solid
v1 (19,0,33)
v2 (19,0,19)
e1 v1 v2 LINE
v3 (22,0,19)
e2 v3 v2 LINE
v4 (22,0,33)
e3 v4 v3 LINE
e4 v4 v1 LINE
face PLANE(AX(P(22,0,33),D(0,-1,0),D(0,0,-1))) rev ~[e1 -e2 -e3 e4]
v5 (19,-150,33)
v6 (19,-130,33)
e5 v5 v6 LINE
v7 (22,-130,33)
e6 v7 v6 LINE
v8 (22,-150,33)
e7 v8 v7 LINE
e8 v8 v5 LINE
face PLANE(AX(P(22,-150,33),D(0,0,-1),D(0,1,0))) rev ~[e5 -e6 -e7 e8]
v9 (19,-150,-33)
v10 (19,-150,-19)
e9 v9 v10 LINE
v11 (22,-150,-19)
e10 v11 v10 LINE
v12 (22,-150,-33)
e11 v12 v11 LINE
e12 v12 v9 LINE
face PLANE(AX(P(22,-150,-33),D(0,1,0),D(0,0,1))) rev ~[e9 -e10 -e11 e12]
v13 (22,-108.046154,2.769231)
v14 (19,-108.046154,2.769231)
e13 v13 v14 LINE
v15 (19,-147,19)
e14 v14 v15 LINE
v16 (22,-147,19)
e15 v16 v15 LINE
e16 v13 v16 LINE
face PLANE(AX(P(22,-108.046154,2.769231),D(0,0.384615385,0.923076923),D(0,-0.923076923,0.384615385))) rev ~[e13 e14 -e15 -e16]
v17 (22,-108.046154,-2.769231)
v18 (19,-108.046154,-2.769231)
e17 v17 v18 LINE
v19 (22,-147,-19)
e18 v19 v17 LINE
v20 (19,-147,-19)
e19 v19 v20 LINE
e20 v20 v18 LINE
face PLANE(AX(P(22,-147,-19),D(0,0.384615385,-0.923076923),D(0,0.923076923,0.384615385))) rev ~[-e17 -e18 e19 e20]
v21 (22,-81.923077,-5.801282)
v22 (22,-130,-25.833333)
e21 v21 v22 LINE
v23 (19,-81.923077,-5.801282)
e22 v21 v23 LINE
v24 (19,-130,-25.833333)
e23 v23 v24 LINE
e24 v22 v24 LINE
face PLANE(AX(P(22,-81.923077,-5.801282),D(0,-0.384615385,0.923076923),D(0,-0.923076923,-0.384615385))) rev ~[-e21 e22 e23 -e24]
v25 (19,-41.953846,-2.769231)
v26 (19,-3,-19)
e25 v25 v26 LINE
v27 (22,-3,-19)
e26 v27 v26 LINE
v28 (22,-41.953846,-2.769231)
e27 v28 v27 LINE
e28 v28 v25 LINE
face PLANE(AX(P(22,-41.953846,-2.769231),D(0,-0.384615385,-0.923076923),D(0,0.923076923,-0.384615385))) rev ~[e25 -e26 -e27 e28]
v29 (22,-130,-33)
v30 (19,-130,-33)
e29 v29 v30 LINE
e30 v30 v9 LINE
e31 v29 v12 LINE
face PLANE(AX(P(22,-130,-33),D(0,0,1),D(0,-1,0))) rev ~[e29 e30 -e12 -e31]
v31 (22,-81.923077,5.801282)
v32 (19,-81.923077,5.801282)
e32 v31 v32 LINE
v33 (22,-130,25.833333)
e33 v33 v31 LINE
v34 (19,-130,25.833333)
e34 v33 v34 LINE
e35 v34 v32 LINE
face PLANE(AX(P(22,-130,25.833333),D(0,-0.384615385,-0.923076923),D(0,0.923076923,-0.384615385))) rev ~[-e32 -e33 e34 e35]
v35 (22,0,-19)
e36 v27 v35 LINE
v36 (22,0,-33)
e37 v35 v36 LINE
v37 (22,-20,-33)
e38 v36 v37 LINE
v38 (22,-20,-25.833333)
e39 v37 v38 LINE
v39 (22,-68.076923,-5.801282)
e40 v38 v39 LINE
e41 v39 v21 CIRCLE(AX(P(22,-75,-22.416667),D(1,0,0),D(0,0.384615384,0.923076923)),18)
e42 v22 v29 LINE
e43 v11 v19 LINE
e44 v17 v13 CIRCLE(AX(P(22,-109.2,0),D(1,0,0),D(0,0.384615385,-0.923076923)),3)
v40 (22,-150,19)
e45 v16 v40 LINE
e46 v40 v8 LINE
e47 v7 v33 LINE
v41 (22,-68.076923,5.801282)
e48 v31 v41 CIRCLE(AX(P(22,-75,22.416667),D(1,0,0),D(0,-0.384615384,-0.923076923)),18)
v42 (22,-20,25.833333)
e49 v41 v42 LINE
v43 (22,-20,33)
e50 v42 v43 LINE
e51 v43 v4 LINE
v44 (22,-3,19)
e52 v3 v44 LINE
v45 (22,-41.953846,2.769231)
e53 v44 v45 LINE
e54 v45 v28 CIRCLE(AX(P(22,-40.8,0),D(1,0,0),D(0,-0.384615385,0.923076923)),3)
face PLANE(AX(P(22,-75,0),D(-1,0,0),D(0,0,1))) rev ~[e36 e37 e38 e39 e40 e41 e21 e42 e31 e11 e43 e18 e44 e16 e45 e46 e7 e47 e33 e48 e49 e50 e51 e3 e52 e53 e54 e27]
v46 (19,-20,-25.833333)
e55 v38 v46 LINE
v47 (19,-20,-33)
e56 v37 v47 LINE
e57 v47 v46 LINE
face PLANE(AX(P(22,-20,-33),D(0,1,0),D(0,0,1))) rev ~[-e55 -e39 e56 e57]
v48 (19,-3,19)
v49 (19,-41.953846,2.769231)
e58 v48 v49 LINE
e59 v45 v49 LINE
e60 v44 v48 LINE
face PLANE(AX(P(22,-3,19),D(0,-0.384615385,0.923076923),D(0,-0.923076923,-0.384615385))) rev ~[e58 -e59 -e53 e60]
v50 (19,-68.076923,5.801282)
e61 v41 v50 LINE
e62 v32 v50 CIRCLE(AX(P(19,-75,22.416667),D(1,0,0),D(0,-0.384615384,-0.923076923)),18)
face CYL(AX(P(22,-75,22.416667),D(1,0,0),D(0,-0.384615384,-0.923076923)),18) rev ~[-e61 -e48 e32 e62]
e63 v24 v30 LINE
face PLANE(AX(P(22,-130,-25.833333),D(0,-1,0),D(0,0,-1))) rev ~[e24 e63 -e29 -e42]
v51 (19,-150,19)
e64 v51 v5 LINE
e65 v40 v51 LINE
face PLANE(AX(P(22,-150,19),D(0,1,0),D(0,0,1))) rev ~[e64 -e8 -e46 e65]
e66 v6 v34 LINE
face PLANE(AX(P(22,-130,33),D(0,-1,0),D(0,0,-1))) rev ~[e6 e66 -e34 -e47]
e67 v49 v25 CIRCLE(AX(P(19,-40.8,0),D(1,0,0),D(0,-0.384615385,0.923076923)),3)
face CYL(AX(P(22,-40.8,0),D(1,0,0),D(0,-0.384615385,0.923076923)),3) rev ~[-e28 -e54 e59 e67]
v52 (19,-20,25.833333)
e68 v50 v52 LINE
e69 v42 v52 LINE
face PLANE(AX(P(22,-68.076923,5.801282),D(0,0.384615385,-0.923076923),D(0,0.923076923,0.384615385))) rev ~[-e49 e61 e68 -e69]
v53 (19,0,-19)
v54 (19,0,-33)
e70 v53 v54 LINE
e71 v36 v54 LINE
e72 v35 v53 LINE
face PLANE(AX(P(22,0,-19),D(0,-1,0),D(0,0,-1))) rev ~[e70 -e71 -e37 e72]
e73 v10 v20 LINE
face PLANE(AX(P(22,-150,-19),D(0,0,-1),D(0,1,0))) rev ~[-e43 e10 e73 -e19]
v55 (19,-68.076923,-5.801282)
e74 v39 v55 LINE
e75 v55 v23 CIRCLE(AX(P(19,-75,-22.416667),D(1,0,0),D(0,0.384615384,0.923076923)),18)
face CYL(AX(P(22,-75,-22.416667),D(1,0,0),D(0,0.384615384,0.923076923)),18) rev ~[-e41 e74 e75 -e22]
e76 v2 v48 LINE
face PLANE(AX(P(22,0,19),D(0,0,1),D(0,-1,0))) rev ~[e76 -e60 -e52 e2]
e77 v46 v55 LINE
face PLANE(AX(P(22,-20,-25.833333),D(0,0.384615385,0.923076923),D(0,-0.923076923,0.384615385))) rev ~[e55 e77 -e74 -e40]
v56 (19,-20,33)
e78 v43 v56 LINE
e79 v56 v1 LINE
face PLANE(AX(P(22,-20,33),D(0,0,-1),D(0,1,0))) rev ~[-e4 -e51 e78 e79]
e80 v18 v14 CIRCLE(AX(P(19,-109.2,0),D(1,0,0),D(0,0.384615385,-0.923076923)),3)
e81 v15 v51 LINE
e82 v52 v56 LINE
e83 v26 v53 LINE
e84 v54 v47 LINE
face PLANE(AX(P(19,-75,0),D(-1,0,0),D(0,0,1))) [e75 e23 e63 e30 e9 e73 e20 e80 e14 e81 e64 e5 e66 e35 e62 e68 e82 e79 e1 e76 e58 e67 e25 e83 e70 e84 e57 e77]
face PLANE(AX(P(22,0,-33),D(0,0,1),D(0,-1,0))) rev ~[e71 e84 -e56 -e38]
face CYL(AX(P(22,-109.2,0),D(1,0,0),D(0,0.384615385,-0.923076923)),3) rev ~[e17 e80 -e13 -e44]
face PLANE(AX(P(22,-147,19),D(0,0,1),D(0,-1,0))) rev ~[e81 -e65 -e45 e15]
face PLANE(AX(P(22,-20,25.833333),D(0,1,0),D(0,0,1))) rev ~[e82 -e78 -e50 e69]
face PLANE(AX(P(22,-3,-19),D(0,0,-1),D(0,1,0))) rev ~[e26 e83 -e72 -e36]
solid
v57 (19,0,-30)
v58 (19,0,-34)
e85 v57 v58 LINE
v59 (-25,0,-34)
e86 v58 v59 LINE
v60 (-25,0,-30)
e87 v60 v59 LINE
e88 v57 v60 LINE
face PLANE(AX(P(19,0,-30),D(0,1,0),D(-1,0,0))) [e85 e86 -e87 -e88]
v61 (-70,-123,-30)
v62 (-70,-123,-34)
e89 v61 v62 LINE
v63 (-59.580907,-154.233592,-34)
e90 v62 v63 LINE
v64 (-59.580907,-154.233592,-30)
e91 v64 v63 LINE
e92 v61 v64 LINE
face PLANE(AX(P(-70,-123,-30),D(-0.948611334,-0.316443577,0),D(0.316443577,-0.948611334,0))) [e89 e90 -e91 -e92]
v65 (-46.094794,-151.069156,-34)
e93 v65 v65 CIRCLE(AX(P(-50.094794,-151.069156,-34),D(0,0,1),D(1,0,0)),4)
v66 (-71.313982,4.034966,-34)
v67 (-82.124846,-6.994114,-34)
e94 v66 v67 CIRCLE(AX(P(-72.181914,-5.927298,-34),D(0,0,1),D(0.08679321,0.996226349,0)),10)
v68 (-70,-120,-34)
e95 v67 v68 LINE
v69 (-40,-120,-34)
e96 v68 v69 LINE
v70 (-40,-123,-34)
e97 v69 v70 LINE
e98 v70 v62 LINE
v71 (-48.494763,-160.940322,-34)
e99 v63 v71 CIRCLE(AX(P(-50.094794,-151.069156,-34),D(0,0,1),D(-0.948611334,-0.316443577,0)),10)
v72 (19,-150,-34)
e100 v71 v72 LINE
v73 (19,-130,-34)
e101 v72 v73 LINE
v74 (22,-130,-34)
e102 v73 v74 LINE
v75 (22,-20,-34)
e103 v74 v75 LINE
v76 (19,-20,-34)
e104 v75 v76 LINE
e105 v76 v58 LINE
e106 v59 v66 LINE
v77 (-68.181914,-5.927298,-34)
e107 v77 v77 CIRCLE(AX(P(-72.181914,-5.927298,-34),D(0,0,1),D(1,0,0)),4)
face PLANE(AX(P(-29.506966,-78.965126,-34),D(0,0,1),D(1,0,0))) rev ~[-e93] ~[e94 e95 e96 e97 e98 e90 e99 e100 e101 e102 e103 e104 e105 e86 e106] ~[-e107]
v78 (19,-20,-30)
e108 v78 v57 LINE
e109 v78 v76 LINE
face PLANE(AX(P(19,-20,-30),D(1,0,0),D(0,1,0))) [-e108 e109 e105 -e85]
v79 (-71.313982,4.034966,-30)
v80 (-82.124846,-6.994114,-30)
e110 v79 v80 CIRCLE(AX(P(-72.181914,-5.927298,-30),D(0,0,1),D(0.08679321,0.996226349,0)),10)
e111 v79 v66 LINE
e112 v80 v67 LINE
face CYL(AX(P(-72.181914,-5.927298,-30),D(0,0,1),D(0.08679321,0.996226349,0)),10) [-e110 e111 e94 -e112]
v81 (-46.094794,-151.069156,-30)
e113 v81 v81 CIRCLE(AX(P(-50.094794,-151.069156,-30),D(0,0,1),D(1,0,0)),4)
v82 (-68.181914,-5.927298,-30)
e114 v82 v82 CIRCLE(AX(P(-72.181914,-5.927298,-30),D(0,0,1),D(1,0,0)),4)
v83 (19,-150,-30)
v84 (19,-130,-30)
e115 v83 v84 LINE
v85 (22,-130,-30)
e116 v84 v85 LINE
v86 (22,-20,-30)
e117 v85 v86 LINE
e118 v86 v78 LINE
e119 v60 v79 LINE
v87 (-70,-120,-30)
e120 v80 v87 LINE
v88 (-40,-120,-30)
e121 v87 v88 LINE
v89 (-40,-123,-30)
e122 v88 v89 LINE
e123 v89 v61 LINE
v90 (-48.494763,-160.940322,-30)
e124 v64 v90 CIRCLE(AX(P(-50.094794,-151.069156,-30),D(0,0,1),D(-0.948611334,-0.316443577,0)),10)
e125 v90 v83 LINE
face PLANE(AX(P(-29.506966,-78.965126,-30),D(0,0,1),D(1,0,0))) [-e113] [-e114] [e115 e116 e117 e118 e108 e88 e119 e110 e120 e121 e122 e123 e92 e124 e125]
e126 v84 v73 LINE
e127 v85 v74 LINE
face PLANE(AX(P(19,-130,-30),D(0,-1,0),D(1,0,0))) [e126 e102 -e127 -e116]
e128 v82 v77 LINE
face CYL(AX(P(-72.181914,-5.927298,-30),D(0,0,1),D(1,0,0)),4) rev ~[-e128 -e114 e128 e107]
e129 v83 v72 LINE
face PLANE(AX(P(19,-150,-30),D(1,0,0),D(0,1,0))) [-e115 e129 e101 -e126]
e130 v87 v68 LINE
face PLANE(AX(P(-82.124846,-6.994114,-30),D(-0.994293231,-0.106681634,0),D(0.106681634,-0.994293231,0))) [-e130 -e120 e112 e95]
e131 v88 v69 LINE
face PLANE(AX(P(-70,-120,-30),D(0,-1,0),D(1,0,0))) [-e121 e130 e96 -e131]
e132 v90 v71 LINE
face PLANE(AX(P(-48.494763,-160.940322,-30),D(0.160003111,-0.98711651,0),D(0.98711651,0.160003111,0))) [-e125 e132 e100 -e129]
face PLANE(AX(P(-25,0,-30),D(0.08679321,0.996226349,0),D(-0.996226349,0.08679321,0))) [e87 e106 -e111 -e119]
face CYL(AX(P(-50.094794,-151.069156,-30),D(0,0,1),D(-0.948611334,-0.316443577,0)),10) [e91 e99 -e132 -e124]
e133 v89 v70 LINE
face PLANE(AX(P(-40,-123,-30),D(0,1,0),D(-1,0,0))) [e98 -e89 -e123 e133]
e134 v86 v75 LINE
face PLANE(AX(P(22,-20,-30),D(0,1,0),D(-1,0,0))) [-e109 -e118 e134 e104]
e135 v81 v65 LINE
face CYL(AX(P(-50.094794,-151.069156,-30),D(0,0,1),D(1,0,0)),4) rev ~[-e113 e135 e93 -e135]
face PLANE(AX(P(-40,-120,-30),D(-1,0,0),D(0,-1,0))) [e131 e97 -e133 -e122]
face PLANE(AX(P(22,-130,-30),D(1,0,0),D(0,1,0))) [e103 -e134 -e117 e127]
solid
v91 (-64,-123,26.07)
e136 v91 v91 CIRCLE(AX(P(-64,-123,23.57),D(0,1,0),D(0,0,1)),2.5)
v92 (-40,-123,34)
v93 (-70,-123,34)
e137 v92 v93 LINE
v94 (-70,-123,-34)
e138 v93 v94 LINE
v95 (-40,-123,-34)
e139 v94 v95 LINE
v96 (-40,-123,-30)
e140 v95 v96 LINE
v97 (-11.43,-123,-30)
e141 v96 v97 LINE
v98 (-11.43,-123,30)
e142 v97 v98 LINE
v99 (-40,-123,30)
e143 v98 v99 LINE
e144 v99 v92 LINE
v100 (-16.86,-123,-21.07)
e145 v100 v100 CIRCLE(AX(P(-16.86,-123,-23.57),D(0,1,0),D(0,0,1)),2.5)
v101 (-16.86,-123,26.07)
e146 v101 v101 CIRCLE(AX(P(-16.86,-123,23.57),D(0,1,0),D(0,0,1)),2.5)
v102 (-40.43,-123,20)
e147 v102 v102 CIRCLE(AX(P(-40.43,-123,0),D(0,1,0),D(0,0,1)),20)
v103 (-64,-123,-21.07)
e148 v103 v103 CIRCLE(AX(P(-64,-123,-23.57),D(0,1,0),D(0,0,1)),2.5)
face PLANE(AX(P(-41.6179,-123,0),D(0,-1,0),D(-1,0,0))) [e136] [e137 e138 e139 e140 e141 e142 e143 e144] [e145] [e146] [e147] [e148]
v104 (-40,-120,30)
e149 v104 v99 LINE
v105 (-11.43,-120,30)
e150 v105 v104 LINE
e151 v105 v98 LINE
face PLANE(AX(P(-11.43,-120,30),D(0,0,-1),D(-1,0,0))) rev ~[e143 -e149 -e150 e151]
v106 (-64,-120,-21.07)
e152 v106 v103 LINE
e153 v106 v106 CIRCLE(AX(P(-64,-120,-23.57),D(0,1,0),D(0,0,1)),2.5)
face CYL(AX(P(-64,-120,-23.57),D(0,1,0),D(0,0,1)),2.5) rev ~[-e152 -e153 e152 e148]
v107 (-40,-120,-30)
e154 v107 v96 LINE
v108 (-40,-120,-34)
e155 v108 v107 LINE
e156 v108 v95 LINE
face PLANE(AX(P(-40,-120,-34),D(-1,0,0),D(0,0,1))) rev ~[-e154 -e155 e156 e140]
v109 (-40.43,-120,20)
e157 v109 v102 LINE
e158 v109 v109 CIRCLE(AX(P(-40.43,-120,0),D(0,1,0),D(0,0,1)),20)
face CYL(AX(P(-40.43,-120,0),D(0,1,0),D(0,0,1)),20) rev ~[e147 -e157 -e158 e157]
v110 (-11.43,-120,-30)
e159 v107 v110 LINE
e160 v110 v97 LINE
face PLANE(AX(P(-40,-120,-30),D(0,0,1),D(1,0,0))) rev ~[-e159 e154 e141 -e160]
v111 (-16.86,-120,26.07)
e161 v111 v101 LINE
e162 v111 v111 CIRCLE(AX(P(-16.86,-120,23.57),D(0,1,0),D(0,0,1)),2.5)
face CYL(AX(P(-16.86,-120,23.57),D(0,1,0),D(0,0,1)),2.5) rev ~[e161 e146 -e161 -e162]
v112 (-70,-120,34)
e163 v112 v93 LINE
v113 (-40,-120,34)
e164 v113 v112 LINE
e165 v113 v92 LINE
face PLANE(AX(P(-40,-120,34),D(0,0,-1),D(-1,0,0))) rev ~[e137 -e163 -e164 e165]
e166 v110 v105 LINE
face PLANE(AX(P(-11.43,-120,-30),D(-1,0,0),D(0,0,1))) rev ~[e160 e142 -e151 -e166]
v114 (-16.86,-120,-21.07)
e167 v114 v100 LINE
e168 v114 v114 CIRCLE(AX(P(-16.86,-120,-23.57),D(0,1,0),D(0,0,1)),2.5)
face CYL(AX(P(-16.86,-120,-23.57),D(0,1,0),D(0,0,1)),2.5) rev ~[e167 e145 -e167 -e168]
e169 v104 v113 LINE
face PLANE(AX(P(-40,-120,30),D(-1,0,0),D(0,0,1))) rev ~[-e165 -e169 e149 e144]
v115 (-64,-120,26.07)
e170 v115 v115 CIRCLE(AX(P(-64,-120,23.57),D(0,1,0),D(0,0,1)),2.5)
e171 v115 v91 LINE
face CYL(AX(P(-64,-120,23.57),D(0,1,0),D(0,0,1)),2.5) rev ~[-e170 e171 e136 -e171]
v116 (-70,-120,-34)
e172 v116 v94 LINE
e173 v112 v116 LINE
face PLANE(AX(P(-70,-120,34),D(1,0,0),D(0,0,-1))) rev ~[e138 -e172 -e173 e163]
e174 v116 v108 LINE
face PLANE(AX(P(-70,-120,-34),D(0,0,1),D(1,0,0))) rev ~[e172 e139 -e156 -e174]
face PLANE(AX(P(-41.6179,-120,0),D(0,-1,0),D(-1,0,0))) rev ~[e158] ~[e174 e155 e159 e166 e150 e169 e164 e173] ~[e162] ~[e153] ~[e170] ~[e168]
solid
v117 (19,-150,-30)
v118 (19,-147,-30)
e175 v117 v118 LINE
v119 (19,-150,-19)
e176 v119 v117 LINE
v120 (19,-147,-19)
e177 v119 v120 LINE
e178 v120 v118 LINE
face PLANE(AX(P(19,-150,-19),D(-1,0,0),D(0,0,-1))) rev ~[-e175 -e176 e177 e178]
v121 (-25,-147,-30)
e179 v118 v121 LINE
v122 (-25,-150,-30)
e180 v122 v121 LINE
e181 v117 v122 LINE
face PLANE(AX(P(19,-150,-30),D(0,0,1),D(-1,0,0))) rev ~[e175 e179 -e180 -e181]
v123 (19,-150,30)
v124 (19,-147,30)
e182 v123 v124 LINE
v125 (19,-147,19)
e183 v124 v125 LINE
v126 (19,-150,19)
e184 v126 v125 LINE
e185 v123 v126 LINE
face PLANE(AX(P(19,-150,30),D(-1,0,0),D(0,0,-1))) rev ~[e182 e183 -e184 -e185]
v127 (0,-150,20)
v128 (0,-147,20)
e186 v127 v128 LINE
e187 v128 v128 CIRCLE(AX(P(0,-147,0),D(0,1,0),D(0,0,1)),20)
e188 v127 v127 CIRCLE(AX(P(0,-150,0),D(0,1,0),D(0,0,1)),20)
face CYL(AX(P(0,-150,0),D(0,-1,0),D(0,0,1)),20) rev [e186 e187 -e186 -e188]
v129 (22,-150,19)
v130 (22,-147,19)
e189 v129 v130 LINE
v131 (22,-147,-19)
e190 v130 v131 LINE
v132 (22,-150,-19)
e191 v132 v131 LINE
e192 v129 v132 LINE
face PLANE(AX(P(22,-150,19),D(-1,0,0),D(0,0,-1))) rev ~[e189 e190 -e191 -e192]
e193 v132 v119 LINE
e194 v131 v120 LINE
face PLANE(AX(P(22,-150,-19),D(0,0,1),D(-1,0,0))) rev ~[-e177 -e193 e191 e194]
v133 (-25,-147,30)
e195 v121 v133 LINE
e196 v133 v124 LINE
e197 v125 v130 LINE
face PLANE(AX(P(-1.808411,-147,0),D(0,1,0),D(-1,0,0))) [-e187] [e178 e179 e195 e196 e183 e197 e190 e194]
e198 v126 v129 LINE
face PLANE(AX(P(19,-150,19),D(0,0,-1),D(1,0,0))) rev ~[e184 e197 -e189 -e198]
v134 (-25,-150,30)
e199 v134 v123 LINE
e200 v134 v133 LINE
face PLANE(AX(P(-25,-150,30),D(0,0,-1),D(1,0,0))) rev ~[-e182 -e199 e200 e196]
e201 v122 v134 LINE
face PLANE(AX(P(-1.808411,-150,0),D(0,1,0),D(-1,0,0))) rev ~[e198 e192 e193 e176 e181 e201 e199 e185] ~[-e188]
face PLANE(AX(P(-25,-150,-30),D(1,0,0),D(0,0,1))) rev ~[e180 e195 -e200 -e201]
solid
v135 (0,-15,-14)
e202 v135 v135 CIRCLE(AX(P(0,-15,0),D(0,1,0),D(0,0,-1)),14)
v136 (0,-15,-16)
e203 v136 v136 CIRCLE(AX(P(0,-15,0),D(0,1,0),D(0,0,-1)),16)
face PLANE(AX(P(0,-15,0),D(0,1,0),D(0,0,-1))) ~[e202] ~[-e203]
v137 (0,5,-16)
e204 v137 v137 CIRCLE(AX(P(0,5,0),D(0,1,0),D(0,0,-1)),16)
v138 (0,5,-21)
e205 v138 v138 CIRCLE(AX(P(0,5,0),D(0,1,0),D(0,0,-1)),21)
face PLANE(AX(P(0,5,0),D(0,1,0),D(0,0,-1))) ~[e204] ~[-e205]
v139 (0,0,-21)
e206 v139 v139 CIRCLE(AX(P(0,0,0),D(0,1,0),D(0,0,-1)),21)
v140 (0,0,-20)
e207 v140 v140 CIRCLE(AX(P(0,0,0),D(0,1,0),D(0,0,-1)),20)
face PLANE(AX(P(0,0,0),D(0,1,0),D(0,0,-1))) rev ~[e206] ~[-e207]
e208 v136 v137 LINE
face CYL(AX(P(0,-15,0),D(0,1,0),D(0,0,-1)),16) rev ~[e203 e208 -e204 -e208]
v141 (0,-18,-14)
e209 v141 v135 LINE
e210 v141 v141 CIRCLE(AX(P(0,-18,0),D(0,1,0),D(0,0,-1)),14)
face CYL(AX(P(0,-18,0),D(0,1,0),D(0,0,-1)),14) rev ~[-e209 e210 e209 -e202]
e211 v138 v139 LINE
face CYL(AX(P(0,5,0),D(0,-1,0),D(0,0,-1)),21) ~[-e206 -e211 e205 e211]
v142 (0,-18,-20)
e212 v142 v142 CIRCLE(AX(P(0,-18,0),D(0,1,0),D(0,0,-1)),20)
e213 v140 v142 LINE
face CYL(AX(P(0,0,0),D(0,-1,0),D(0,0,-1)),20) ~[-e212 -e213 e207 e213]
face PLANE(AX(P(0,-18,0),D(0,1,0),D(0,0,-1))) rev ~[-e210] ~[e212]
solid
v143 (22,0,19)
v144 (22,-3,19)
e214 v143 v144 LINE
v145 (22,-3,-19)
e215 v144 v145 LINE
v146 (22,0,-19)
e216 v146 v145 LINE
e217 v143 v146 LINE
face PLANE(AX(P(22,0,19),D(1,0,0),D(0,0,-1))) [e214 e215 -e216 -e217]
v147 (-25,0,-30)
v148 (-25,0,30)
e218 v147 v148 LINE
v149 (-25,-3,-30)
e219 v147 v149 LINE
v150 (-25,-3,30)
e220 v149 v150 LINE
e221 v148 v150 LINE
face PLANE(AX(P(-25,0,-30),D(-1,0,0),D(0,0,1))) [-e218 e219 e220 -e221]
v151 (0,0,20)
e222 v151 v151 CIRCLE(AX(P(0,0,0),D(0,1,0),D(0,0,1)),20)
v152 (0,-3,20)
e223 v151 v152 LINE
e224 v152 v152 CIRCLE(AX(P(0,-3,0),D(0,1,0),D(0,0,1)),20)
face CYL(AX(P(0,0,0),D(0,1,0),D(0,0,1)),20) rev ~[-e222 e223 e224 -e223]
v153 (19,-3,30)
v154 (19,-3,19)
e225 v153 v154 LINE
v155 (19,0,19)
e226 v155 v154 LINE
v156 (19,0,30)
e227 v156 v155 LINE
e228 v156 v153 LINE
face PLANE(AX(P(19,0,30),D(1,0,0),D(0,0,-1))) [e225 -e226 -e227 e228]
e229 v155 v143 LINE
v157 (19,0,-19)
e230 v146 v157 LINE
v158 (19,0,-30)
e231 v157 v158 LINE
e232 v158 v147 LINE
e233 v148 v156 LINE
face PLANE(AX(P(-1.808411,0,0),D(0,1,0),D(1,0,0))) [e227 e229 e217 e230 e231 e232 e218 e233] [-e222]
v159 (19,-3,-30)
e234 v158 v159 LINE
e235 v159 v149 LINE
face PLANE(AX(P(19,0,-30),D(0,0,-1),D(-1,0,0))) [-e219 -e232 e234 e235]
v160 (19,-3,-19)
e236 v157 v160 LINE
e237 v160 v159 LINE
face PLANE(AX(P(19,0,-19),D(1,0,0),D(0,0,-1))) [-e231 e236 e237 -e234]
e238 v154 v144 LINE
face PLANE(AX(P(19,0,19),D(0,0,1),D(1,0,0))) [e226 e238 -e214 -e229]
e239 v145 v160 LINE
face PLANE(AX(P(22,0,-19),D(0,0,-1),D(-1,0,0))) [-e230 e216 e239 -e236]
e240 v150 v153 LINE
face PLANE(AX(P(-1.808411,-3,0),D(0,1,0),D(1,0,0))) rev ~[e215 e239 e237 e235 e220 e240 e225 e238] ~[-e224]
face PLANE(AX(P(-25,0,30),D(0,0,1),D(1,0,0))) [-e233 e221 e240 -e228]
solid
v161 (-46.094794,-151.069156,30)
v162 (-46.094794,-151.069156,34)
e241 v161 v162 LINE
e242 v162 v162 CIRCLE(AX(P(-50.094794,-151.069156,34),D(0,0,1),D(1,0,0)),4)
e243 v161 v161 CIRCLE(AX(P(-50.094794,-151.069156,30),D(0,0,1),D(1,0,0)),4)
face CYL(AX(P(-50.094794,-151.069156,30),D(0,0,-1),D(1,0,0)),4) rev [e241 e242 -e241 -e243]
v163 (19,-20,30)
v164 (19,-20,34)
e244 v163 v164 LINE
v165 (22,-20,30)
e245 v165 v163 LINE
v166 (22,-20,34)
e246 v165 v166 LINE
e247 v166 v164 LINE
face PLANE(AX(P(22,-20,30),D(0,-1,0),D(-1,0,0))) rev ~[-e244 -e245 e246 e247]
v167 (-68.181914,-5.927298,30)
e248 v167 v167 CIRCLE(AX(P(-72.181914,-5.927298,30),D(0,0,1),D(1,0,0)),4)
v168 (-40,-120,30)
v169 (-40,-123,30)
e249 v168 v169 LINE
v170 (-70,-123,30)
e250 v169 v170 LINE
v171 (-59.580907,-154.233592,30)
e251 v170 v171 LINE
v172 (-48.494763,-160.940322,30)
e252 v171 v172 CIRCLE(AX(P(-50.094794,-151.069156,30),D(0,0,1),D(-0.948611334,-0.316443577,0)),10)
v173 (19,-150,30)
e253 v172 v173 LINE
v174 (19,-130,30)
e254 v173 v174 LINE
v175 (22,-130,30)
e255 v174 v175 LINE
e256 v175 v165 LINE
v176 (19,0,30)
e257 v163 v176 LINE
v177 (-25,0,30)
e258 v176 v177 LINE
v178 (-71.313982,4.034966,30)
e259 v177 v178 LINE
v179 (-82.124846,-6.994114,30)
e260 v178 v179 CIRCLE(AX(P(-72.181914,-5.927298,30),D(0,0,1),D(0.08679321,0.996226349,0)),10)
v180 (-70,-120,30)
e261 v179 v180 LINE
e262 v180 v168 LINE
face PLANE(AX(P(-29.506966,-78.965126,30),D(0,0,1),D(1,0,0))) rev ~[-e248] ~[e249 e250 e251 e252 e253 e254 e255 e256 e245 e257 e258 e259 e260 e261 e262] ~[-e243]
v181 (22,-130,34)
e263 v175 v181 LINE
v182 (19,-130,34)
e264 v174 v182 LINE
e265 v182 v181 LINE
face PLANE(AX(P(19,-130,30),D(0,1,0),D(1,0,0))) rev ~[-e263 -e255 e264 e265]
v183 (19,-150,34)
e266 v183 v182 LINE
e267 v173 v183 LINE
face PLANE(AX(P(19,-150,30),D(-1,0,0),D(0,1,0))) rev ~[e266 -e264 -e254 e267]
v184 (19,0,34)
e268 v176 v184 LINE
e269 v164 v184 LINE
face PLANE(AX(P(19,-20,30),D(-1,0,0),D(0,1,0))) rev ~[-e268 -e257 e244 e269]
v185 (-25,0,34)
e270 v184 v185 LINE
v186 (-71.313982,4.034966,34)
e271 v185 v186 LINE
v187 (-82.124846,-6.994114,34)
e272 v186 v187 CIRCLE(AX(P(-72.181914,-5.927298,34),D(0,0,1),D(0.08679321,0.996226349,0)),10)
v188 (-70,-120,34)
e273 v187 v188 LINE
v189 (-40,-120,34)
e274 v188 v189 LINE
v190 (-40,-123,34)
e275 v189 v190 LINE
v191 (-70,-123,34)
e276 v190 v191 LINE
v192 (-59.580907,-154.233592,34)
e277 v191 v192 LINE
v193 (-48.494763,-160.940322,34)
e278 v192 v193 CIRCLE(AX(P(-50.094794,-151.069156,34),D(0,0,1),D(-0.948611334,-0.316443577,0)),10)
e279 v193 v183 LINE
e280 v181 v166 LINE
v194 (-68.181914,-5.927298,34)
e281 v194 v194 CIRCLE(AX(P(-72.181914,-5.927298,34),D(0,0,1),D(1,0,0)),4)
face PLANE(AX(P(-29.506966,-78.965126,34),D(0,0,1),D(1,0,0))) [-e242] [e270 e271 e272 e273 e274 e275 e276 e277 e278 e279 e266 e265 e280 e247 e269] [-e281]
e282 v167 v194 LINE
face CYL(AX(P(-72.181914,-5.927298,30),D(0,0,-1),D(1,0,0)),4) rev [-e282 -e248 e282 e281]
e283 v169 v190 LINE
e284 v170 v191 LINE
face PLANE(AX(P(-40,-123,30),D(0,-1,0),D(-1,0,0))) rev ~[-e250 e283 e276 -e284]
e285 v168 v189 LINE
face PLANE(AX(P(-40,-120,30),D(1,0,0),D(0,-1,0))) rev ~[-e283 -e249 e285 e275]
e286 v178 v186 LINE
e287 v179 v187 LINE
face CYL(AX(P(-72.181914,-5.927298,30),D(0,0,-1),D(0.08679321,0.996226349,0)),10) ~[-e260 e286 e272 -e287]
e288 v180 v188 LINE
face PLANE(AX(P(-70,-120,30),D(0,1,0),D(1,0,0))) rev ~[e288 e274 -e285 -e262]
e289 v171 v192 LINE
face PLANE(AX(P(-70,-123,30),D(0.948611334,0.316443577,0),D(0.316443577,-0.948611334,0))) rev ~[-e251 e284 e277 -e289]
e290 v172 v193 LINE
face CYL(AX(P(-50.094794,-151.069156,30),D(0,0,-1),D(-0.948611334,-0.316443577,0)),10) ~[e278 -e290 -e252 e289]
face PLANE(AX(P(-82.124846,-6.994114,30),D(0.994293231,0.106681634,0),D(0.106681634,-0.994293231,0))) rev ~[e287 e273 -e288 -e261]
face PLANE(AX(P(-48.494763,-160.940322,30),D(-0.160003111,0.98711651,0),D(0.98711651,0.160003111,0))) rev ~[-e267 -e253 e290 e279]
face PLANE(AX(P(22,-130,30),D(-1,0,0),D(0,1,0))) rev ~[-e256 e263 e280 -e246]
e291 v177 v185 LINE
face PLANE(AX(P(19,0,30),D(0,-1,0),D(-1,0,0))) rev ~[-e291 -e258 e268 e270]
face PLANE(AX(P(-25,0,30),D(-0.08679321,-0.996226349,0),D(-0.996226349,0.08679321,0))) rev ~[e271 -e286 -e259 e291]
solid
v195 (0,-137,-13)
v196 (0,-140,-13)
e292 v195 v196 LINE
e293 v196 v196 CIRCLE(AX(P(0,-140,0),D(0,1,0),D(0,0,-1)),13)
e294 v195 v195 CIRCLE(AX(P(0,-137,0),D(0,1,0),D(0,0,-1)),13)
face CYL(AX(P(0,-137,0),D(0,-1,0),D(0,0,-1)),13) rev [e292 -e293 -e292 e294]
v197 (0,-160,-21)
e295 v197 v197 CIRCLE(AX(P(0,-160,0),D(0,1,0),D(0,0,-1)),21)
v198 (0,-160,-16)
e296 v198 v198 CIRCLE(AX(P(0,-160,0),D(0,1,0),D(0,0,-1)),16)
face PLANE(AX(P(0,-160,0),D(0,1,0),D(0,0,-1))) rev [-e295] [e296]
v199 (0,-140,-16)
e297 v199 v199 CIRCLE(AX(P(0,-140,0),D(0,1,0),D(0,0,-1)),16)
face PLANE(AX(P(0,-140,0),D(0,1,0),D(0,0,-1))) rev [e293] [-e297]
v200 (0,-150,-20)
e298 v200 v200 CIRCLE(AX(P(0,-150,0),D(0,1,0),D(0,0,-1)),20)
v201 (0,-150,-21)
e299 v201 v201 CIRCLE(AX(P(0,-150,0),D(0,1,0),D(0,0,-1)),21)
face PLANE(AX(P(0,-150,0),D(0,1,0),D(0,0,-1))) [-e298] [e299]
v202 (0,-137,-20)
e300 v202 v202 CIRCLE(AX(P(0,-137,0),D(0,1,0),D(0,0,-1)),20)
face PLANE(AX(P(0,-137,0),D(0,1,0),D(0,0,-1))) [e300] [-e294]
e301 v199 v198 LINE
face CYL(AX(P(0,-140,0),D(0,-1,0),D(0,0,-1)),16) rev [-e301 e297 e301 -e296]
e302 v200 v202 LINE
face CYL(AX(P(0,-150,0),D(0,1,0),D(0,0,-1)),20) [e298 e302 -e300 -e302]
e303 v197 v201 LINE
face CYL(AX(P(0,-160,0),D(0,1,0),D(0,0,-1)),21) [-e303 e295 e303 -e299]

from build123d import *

# Parameters (mm, degrees)
SKETCH5_R            = 20
BOSS_EXTRUDE1_DEPTH  = 3
SKETCH14_R           = 4
BOSS_EXTRUDE7_DEPTH  = 4
BOSS_EXTRUDE11_START = -60
SKETCH14_3_R         = 4
BOSS_EXTRUDE11_DEPTH = 4
SKETCH15_R           = 2.5
SKETCH15_R_2         = 20
BOSS_EXTRUDE12_DEPTH = 3
SKETCH7_R            = 20
BOSS_EXTRUDE3_DEPTH  = 3
BOSS_EXTRUDE6_DEPTH  = 3


with BuildPart() as part:
    # Sketch5 → Boss-Extrude1 (new body)
    with BuildSketch(Plane(origin=(0, 0, 0), x_dir=(1, 0, 0), z_dir=(0, 1, 0))):
        Polygon((-25, -30), (19, -30), (19, -19), (22, -19), (22, 19), (19, 19), (19, 30), (-25, 30), align=None)
        with Locations(Location((0, 0, 0), (0, 0, 270))):
            Circle(SKETCH5_R, mode=Mode.SUBTRACT)
    extrude(amount=-BOSS_EXTRUDE1_DEPTH)


with BuildPart() as body_2:
    # Sketch14 → Boss-Extrude7 (new body)
    with BuildSketch(Plane.XY.offset(30)):
        with BuildLine():
            Line((19, 0), (-25, 0))
            Line((-25, 0), (-71.313981868, 4.034965698))
            ThreePointArc((-71.313981868, 4.034965698), (-79.32327642, 1.072769513), (-82.124846275, -6.994114135))
            Line((-82.124846275, -6.994114135), (-70, -120))
            Line((-70, -120), (-40, -120))
            Line((-40, -120), (-40, -123))
            Line((-40, -123), (-70, -123))
            Line((-70, -123), (-59.580907072, -154.233592173))
            ThreePointArc((-59.580907072, -154.233592173), (-55.270953296, -159.62528708), (-48.494762627, -160.940321502))
            Line((-48.494762627, -160.940321502), (19, -150))
            Line((19, -150), (19, -130))
            Line((19, -130), (22, -130))
            Line((22, -130), (22, -20))
            Line((22, -20), (19, -20))
            Line((19, -20), (19, 0))
        make_face()
        with Locations((-50.094793735, -151.069156401)):
            Circle(SKETCH14_R, mode=Mode.SUBTRACT)
        with Locations((-72.181913966, -5.927297794)):
            Circle(SKETCH14_R, mode=Mode.SUBTRACT)
    extrude(amount=BOSS_EXTRUDE7_DEPTH)


with BuildPart() as body_3:
    # Sketch14<3> → Boss-Extrude11 (new body)
    with BuildSketch(Plane.XY.offset(30).offset(BOSS_EXTRUDE11_START)):
        with BuildLine():
            Line((19, 0), (-25, 0))
            Line((-25, 0), (-71.313981868, 4.034965698))
            ThreePointArc((-71.313981868, 4.034965698), (-79.32327642, 1.072769513), (-82.124846275, -6.994114135))
            Line((-82.124846275, -6.994114135), (-70, -120))
            Line((-70, -120), (-40, -120))
            Line((-40, -120), (-40, -123))
            Line((-40, -123), (-70, -123))
            Line((-70, -123), (-59.580907072, -154.233592173))
            ThreePointArc((-59.580907072, -154.233592173), (-55.270953296, -159.62528708), (-48.494762627, -160.940321502))
            Line((-48.494762627, -160.940321502), (19, -150))
            Line((19, -150), (19, -130))
            Line((19, -130), (22, -130))
            Line((22, -130), (22, -20))
            Line((22, -20), (19, -20))
            Line((19, -20), (19, 0))
        make_face()
        with Locations((-50.094793735, -151.069156401)):
            Circle(SKETCH14_3_R, mode=Mode.SUBTRACT)
        with Locations((-72.181913966, -5.927297794)):
            Circle(SKETCH14_3_R, mode=Mode.SUBTRACT)
    extrude(amount=-BOSS_EXTRUDE11_DEPTH)


with BuildPart() as body_4:
    # Sketch15 → Boss-Extrude12 (new body)
    with BuildSketch(Plane(origin=(0, -120, 0), x_dir=(1, 0, 0), z_dir=(0, 1, 0))):
        Polygon((-11.43, 30), (-11.43, -30), (-40, -30), (-40, -34), (-70, -34), (-70, 34), (-40, 34), (-40, 30), align=None)
        with Locations(Location((-16.86, -23.57, 0), (0, 0, 270))):
            Circle(SKETCH15_R, mode=Mode.SUBTRACT)
        with Locations(Location((-40.43, 0, 0), (0, 0, 270))):
            Circle(SKETCH15_R_2, mode=Mode.SUBTRACT)
        with Locations(Location((-64, -23.57, 0), (0, 0, 270))):
            Circle(SKETCH15_R, mode=Mode.SUBTRACT)
        with Locations(Location((-16.86, 23.57, 0), (0, 0, 270))):
            Circle(SKETCH15_R, mode=Mode.SUBTRACT)
        with Locations(Location((-64, 23.57, 0), (0, 0, 270))):
            Circle(SKETCH15_R, mode=Mode.SUBTRACT)
    extrude(amount=-BOSS_EXTRUDE12_DEPTH)


with BuildPart() as body_5:
    # Sketch7 → Boss-Extrude3 (new body)
    with BuildSketch(Plane(origin=(0, -150, 0), x_dir=(-1, 0, 0), z_dir=(0, 1, 0))):
        Polygon((25, -30), (25, 30), (-19, 30), (-19, 19), (-22, 19), (-22, -19), (-19, -19), (-19, -30), align=None)
        with Locations(Location((0, 0, 0), (0, 0, 90))):
            Circle(SKETCH7_R, mode=Mode.SUBTRACT)
    extrude(amount=BOSS_EXTRUDE3_DEPTH)


with BuildPart() as body_6:
    # Sketch1 → Revolve1 (revolve)
    with BuildSketch(Plane(origin=(0, 0, 0), x_dir=(0, 0, -1), z_dir=(1, 0, 0)), mode=Mode.PRIVATE) as revolve1_sk:
        Polygon((-20, -150), (-20, -137), (-13, -137), (-13, -140), (-16, -140), (-16, -160), (-21, -160), (-21, -150), align=None)
        Polygon((-21, 5), (-21, 0), (-20, 0), (-20, -18), (-14, -18), (-14, -15), (-16, -15), (-16, 5), align=None)
    revolve(revolve1_sk.sketch.rotate(Axis((0, 0, 0), (0, 1, 0)), 180), axis=Axis((0, 0, 0), (0, 1, 0)))


with BuildPart() as body_7:
    # Sketch12 → Boss-Extrude6 (new body)
    with BuildSketch(Plane(origin=(22, 0, 0), x_dir=(0, 0, -1), z_dir=(1, 0, 0))):
        with BuildLine():
            Line((-33, -20), (-33, 0))
            Line((-33, 0), (-19, 0))
            Line((-19, 0), (-19, -3))
            Line((-19, -3), (-2.769230769, -41.953846154))
            ThreePointArc((-2.769230769, -41.953846154), (0, -43.8), (2.769230769, -41.953846154))
            Line((2.769230769, -41.953846154), (19, -3))
            Line((19, -3), (19, 0))
            Line((19, 0), (33, 0))
            Line((33, 0), (33, -20))
            Line((33, -20), (25.833333333, -20))
            Line((25.833333333, -20), (5.801282051, -68.076923077))
            ThreePointArc((5.801282051, -68.076923077), (4.416666667, -75), (5.801282051, -81.923076923))
            Line((5.801282051, -81.923076923), (25.833333333, -130))
            Line((25.833333333, -130), (33, -130))
            Line((33, -130), (33, -150))
            Line((33, -150), (19, -150))
            Line((19, -150), (19, -147))
            Line((19, -147), (2.769230769, -108.046153846))
            ThreePointArc((2.769230769, -108.046153846), (0, -106.2), (-2.769230769, -108.046153846))
            Line((-2.769230769, -108.046153846), (-19, -147))
            Line((-19, -147), (-19, -150))
            Line((-19, -150), (-33, -150))
            Line((-33, -150), (-33, -130))
            Line((-33, -130), (-25.833333333, -130))
            Line((-25.833333333, -130), (-5.801282051, -81.923076923))
            ThreePointArc((-5.801282051, -81.923076923), (-4.416666667, -75), (-5.801282051, -68.076923077))
            Line((-5.801282051, -68.076923077), (-25.833333333, -20))
            Line((-25.833333333, -20), (-33, -20))
        make_face()
    extrude(amount=-BOSS_EXTRUDE6_DEPTH)


solid = Compound([part.part, body_2.part, body_3.part, body_4.part, body_5.part, body_6.part, body_7.part])
